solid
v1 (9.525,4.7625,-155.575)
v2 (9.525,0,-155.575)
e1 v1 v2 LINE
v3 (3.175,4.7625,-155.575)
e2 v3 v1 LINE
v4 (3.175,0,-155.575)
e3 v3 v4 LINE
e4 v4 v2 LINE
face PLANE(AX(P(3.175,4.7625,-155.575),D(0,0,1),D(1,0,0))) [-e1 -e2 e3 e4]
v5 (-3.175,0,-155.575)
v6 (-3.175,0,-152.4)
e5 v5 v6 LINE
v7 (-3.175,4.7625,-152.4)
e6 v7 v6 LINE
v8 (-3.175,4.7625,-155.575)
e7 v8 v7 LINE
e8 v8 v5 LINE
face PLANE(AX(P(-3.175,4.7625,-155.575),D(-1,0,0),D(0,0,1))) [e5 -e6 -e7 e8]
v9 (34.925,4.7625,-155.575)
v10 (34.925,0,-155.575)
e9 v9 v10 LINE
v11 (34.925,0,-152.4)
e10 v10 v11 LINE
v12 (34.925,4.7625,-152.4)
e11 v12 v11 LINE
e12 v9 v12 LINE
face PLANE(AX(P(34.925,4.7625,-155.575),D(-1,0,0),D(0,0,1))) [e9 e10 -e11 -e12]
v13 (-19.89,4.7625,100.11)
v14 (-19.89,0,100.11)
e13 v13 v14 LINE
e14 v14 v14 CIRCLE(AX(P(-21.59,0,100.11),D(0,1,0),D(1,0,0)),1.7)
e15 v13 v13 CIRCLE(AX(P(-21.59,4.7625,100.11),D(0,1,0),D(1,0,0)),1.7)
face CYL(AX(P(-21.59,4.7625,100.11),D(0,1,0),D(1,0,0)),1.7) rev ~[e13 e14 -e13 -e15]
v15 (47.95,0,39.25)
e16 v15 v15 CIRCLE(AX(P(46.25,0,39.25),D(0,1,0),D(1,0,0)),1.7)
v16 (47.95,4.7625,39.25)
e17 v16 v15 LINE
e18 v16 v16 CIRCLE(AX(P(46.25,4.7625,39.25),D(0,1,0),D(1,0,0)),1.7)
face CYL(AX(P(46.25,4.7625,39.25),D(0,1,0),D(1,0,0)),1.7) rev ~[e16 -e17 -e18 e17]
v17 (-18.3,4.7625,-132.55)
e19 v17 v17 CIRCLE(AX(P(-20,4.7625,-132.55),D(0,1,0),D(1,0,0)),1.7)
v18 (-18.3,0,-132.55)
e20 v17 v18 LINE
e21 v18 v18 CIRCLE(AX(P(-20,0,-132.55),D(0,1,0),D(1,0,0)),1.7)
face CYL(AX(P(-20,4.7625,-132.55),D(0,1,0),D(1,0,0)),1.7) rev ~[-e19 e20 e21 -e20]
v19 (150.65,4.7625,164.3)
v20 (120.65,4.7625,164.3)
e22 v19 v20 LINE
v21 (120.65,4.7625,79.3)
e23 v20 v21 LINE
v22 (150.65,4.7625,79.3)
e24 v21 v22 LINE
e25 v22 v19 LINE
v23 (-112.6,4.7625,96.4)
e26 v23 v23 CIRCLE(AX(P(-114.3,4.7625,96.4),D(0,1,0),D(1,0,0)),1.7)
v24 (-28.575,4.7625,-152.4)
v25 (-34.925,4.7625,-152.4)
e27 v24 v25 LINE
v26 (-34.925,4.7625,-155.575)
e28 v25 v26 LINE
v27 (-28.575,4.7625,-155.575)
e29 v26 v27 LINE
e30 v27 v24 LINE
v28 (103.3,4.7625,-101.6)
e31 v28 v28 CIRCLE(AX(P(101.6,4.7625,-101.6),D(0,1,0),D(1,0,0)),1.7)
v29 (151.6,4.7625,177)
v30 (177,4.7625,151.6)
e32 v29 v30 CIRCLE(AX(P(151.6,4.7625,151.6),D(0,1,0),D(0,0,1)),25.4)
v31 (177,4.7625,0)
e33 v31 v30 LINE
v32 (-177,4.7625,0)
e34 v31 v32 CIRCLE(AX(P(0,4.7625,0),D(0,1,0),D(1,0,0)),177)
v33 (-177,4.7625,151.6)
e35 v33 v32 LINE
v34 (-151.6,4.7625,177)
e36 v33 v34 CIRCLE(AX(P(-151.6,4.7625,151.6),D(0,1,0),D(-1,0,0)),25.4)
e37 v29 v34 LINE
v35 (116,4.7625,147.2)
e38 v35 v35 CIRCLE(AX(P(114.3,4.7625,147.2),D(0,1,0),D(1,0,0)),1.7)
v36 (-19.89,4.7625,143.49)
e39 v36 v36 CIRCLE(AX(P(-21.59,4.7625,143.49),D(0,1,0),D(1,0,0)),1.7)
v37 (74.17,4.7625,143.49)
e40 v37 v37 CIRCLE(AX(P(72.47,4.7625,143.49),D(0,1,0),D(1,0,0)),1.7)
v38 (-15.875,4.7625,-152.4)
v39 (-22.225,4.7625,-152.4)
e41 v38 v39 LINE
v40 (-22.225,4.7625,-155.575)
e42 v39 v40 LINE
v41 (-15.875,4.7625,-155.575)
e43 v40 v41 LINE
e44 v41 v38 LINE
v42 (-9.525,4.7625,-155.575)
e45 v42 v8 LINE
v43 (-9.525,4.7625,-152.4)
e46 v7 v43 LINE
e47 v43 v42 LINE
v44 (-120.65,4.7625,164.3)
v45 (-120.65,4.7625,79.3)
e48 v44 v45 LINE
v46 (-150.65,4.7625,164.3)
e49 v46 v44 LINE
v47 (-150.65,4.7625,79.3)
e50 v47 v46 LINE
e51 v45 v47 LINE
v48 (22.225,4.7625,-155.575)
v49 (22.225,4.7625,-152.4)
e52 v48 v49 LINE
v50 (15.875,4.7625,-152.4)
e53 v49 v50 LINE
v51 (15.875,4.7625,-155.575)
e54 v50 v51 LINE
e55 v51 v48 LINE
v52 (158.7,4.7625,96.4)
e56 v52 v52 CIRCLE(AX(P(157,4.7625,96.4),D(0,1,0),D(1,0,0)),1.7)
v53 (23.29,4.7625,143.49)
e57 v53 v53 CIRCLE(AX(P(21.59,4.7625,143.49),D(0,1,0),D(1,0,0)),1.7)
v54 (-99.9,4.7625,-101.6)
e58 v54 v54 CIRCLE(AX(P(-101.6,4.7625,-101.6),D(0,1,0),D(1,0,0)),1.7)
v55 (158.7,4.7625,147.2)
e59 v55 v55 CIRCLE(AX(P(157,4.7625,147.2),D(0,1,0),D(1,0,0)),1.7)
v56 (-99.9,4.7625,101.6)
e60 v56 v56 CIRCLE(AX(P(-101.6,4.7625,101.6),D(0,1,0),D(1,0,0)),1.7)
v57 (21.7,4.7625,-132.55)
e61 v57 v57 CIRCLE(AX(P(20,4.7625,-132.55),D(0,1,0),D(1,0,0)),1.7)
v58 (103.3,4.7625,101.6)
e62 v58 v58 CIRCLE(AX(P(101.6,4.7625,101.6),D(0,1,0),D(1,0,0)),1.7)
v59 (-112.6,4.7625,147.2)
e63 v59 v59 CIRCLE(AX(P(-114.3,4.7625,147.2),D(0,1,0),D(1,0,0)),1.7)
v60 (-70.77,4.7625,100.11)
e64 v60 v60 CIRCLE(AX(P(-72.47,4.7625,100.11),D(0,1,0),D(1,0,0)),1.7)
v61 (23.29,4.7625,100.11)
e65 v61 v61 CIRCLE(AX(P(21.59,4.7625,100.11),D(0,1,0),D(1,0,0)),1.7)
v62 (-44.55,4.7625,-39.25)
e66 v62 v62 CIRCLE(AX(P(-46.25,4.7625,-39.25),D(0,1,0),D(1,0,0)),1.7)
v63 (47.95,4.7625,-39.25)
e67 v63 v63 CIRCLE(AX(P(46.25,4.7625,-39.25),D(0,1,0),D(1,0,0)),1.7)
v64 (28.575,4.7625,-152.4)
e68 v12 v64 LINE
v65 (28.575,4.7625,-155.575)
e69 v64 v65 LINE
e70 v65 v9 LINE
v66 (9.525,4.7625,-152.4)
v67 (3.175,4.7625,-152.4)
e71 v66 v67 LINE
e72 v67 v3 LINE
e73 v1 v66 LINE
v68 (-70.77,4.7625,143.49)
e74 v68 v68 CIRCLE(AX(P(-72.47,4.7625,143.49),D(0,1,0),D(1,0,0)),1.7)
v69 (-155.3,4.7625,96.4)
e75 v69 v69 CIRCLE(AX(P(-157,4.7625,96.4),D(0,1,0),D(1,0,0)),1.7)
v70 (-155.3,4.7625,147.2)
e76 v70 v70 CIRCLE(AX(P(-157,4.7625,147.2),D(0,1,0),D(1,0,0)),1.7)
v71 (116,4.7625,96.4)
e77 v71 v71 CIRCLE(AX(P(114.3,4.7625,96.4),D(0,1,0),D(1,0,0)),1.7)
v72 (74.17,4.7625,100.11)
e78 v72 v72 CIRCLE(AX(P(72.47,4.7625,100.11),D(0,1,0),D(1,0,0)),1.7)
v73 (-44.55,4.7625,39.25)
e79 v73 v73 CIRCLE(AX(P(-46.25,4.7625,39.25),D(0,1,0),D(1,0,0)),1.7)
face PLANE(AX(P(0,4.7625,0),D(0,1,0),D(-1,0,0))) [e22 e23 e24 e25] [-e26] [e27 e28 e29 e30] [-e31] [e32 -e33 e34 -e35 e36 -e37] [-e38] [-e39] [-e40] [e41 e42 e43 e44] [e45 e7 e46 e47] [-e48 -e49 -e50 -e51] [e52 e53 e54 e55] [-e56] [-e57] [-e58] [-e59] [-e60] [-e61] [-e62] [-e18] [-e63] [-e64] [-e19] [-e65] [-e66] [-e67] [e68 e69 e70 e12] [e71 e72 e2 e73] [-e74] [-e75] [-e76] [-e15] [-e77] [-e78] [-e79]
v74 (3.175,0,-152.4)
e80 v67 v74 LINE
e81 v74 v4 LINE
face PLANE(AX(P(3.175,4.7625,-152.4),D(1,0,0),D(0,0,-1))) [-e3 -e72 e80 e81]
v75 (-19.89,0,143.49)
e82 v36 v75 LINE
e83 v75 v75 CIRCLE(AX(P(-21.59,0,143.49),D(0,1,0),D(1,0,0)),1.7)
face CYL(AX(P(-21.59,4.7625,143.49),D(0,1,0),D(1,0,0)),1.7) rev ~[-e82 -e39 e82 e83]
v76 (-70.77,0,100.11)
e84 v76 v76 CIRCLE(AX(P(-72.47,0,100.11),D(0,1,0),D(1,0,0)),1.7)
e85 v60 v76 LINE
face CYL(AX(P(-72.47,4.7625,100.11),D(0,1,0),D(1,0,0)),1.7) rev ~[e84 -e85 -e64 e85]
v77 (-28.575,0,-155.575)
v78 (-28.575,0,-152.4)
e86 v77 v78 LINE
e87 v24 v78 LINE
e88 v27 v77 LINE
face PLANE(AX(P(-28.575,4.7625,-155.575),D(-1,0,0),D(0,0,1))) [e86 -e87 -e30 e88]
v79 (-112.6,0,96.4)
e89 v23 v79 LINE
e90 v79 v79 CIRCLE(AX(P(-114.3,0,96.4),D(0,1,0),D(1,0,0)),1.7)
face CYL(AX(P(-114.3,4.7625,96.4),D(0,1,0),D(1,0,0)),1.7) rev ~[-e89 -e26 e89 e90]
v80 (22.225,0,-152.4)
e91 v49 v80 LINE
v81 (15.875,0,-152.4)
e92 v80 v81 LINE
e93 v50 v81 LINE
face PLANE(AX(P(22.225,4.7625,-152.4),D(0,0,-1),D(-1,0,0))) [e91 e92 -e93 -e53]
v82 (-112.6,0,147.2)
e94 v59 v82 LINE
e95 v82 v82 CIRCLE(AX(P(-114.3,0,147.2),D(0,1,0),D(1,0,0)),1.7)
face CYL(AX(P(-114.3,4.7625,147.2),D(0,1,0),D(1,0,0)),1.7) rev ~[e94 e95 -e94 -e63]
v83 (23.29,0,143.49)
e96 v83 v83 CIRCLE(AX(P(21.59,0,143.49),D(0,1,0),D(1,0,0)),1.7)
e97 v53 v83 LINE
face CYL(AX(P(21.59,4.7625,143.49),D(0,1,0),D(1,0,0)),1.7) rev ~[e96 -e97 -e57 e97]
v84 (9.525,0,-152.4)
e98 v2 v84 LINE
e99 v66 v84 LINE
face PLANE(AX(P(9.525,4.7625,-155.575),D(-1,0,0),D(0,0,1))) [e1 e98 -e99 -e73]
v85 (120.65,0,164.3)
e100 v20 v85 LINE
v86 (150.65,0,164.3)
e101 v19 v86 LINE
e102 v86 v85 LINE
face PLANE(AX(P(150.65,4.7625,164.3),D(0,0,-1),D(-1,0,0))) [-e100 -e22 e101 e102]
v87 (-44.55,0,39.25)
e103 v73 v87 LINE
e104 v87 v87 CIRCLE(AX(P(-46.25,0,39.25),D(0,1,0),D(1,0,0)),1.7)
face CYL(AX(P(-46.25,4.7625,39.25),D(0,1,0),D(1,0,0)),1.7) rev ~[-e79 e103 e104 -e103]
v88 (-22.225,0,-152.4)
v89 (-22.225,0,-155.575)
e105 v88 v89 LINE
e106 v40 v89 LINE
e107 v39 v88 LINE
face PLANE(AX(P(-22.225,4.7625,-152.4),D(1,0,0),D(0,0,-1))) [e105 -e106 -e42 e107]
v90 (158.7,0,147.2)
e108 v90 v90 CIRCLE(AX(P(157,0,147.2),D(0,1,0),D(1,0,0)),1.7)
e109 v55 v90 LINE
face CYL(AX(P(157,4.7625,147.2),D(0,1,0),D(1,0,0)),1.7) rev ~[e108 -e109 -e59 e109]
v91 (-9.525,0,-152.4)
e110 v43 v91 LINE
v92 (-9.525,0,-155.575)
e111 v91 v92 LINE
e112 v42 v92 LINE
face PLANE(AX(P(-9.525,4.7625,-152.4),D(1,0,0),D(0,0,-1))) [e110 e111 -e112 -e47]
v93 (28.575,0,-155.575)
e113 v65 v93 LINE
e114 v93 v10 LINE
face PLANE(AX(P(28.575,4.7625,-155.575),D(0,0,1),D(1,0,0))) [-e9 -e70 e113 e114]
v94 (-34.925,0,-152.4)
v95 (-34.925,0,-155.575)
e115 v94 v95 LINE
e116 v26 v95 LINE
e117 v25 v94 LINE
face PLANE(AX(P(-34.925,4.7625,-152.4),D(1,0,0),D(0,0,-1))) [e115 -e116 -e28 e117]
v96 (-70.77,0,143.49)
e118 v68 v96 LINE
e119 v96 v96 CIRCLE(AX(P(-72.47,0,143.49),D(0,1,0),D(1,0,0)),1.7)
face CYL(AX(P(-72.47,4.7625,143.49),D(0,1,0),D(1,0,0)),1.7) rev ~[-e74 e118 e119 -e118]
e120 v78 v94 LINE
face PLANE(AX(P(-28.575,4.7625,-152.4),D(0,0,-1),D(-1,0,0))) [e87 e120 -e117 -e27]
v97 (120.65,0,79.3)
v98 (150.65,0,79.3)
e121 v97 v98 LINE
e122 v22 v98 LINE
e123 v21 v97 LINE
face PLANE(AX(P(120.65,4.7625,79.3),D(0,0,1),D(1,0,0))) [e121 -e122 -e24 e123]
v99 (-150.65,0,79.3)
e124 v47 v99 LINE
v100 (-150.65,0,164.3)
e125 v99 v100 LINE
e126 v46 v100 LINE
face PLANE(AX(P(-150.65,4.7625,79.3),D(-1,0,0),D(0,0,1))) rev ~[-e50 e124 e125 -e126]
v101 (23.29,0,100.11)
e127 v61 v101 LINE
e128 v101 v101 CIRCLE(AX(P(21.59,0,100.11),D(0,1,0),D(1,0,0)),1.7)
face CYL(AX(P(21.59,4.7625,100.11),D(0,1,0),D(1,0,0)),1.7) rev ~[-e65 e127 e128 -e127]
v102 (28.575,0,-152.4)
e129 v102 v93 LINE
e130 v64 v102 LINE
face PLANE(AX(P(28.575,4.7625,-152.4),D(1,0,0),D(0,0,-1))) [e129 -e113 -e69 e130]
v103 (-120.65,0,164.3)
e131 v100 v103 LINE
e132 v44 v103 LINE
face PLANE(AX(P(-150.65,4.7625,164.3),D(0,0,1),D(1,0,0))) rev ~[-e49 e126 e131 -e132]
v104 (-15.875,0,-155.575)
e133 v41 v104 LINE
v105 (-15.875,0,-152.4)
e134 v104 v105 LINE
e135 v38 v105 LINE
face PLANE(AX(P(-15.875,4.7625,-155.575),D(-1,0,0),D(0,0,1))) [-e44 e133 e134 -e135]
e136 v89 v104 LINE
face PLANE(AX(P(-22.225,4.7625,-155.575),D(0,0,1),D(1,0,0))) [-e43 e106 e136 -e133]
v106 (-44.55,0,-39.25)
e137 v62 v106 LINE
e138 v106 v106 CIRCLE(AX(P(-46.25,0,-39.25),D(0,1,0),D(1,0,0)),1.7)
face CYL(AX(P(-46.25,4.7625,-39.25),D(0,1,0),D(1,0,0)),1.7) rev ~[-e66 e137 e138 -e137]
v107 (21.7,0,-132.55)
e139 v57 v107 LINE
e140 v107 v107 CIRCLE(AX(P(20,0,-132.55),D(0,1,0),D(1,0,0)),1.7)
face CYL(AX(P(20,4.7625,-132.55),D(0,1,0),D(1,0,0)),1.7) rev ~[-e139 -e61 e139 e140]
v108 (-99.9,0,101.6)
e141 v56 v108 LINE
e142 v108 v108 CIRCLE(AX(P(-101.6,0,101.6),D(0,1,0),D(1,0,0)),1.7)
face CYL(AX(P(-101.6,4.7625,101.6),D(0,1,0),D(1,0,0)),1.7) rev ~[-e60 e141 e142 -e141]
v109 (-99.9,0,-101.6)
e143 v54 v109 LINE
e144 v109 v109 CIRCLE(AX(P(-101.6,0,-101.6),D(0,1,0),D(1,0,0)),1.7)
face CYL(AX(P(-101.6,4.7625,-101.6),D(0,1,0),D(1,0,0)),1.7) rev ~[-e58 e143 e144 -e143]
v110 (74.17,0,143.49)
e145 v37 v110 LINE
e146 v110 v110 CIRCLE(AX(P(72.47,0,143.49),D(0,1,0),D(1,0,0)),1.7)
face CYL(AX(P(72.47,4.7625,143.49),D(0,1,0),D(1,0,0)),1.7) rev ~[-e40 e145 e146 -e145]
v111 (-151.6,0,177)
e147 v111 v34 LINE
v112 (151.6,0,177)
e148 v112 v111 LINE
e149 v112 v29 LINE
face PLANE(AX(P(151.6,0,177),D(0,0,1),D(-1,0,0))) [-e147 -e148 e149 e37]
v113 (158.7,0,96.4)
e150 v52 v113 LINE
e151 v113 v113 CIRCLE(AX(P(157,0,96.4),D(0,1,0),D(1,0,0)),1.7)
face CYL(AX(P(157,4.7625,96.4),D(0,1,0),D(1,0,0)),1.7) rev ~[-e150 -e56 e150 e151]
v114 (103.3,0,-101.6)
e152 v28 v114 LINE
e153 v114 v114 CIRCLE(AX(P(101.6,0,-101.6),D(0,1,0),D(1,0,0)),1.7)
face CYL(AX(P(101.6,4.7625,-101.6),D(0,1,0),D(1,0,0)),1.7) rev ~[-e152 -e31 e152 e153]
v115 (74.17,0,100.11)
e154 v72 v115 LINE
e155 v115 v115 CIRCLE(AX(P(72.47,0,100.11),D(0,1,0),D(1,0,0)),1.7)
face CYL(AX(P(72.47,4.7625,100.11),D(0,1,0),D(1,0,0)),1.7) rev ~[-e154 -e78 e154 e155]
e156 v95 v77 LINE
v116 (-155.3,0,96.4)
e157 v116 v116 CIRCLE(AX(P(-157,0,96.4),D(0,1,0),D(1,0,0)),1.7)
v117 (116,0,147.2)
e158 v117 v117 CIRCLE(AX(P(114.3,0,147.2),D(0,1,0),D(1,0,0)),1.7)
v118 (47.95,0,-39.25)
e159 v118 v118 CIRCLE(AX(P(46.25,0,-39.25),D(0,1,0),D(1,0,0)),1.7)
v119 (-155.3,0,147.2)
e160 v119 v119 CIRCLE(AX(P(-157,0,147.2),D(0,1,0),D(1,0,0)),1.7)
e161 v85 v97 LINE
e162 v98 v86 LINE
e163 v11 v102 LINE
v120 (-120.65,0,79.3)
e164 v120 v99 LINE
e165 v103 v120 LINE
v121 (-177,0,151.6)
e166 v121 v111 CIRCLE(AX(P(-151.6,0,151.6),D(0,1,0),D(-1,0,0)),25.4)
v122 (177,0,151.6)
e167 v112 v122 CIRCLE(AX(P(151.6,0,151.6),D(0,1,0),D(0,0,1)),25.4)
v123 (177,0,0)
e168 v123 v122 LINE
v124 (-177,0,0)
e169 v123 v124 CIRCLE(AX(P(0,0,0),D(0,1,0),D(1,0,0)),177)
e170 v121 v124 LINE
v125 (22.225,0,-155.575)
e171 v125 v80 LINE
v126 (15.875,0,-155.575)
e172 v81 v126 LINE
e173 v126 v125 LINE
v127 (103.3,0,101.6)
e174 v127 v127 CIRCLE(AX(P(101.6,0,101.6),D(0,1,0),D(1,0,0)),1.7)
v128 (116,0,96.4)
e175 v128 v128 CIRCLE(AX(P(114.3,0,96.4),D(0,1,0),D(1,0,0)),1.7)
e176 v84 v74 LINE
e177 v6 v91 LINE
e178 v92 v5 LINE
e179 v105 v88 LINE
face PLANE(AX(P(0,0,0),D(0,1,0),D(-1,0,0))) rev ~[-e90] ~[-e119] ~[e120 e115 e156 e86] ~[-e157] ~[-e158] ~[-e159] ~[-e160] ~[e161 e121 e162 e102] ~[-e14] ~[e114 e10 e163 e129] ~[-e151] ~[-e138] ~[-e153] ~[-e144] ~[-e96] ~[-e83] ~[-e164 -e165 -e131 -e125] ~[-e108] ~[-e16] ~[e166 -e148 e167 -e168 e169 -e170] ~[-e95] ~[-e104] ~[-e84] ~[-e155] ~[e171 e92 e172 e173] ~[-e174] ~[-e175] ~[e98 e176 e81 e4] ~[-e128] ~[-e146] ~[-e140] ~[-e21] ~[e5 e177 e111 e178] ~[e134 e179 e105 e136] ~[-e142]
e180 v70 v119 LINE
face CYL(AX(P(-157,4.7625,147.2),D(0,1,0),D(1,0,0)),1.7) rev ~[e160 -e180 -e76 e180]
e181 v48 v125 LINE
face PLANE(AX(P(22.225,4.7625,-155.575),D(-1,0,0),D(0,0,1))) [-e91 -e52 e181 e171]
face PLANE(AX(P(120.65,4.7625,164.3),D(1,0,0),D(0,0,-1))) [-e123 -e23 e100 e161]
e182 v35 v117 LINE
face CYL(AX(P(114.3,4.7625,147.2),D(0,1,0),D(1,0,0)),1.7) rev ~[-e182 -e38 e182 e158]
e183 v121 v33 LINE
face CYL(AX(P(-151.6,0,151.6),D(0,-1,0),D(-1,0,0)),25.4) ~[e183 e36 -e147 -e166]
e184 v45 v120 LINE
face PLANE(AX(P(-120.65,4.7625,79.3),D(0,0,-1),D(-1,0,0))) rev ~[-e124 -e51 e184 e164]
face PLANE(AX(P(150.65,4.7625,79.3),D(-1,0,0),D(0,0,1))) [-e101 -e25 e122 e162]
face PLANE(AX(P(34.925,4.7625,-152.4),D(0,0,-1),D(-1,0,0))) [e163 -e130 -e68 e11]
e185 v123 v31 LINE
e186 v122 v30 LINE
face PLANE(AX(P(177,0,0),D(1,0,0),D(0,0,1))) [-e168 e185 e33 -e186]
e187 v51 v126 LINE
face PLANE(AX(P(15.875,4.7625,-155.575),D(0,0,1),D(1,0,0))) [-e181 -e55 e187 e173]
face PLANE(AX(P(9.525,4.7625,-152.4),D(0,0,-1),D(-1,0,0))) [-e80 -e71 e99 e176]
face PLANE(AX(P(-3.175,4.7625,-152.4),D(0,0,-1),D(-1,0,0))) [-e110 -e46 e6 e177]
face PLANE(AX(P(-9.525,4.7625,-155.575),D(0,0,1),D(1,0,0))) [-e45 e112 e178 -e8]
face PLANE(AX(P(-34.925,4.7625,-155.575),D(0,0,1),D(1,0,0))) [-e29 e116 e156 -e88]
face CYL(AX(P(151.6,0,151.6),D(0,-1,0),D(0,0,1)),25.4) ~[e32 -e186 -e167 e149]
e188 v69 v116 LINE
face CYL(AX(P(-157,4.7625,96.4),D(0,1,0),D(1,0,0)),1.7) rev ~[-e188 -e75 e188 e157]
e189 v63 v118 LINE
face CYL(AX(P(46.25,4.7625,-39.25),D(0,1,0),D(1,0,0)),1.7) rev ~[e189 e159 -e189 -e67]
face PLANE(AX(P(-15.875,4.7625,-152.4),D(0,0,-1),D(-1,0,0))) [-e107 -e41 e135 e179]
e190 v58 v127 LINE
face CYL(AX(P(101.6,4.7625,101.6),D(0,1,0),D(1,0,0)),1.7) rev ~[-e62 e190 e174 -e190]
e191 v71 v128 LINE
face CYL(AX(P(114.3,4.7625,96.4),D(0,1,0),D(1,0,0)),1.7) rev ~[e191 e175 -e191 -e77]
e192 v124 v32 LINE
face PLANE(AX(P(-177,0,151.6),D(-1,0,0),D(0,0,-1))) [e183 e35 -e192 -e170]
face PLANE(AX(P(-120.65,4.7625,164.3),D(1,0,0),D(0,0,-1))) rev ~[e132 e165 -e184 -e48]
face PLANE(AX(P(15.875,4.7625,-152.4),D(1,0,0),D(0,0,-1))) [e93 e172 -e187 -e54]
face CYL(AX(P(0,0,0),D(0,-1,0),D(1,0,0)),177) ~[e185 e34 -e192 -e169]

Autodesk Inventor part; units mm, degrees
ref_plane "YZ Plane" through (0, 0, 0) normal (1, 0, 0) x (0, 1, 0)
ref_plane "XZ Plane" through (0, 0, 0) normal (0, 1, 0) x (-1, 0, 0)
ref_plane "XY Plane" through (0, 0, 0) normal (0, 0, 1) x (1, 0, 0)
sketch "Sketch1" plane through (0, 0, 0) normal (0, 1, 0) x (-1, 0, 0)
  arc A0 (-177, 0) -> (177, 0) centre (0, 0) ccw
  line L0 (-177, 0) -> (-177, 151.6)
  line L1 (-151.6, 177) -> (151.6, 177)
  line L2 (177, 151.6) -> (177, 0)
  arc A1 (-151.6, 177) -> (-177, 151.6) centre (-151.6, 151.6) ccw
  arc A2 (177, 151.6) -> (151.6, 177) centre (151.6, 151.6) ccw
  point P0 (-177, 177)
  point P1 (177, 177)
  dimension "d0" = 354
  dimension "d98" = 177
  dimension "d99" = 177
  dimension "d101" = 354
  dimension "d102" = 177
  dimension "d217" = 25.4
extrude "Extrusion1" add sketch "Sketch1" along normal blind 4.7625
sketch "Sketch8" plane through (0, 4.7625, 0) normal (0, 1, 0) x (1, 0, 0)
  circle A0 centre (101.6, -101.6) radius 1.7
  circle A1 centre (101.6, 101.6) radius 1.7
  circle A2 centre (-101.6, 101.6) radius 1.7
  circle A3 centre (-101.6, -101.6) radius 1.7
  arc A4 (177, 0) -> (-177, 0) centre (0, 0) ccw construction
  line L0 (0, 177) -> (0, -177) construction
  line L1 (-151.6, -177) -> (151.6, -177) construction
  line L2 (-177, 0) -> (-177, -151.6) construction
  line L3 (177, -151.6) -> (177, 0) construction
  line L4 (-177, 0) -> (177, 0) construction
  point P0 (0, 0)
  point P1 (-177, -177)
  point P2 (177, -177)
  dimension "d103" = 3.4
  dimension "d104" = 3.4
  dimension "d105" = 3.4
  dimension "d106" = 3.4
  dimension "d115" = 101.6
  dimension "d116" = 101.6
  dimension "d117" = 101.6
  dimension "d118" = 101.6
  dimension "d119" = 101.6
  dimension "d120" = 101.6
  dimension "d121" = 101.6
  dimension "d122" = 101.6
extrude "Stand-Offs" cut sketch "Sketch8" against normal through all
sketch "Sketch9" plane through (0, 4.7625, 0) normal (0, 1, 0) x (1, 0, 0)
  line L0 (-150.65, -79.3) -> (-150.65, -164.3)
  line L1 (-150.65, -164.3) -> (-120.65, -164.3)
  line L2 (-120.65, -164.3) -> (-120.65, -79.3)
  line L3 (-120.65, -79.3) -> (-150.65, -79.3)
  circle A0 centre (-114.3, -96.4) radius 1.7
  circle A1 centre (-114.3, -147.2) radius 1.7
  circle A2 centre (-157, -147.2) radius 1.7
  circle A3 centre (-157, -96.4) radius 1.7
  arc A4 (177, 0) -> (-177, 0) centre (0, 0) ccw construction
  line L4 (0, 177) -> (0, -177) construction
  line L5 (-151.6, -177) -> (151.6, -177) construction
  line L6 (-177, -177) -> (177, -177) construction
  line L7 (-120.65, -121.8) -> (-150.65, -121.8) construction
  line L8 (150.65, -164.3) -> (120.65, -164.3)
  line L9 (120.65, -164.3) -> (120.65, -79.3)
  line L10 (120.65, -79.3) -> (150.65, -79.3)
  circle A5 centre (114.3, -96.4) radius 1.7
  circle A6 centre (114.3, -147.2) radius 1.7
  line L11 (150.65, -79.3) -> (150.65, -164.3)
  circle A7 centre (157, -96.4) radius 1.7
  circle A8 centre (157, -147.2) radius 1.7
  line L12 (120.65, -121.8) -> (150.65, -121.8) construction
  point P0 (177.1241, 0)
  dimension "d126" = 30
  dimension "d129" = 3.4
  dimension "d130" = 3.4
  dimension "d131" = 3.4
  dimension "d132" = 3.4
  dimension "d133" = 6.35
  dimension "d134" = 6.35
  dimension "d135" = 6.35
  dimension "d136" = 6.35
  dimension "d141" = 120.65
  dimension "d142" = 12.7
  dimension "d143" = 85
  dimension "d144" = 25.4
  dimension "d145" = 25.4
  dimension "d146" = 25.4
  dimension "d147" = 25.4
extrude "Wheels" cut sketch "Sketch9" against normal through all
sketch "Sketch10" plane through (0, 4.7625, 0) normal (0, 1, 0) x (1, 0, 0)
  circle A0 centre (-72.47, -143.49) radius 1.7
  circle A1 centre (-21.59, -143.49) radius 1.7
  circle A2 centre (-72.47, -100.11) radius 1.7
  circle A3 centre (-21.59, -100.11) radius 1.7
  arc A4 (177, 0) -> (-177, 0) centre (0, 0) ccw construction
  line L0 (0, 177) -> (0, -177) construction
  line L1 (-151.6, -177) -> (151.6, -177) construction
  line L2 (177, -151.6) -> (177, 0) construction
  line L3 (-177, 0) -> (-177, -151.6) construction
  line L4 (177, 0) -> (-177, 0) construction
  line L5 (-150.65, -79.3) -> (-150.65, -164.3) construction
  line L6 (-150.65, -121.8) -> (150.65, -121.8) construction
  line L7 (150.65, -79.3) -> (150.65, -164.3) construction
  line L8 (-120.65, -79.3) -> (-120.65, -164.3) construction
  circle A5 centre (72.47, -143.49) radius 1.7
  circle A6 centre (72.47, -100.11) radius 1.7
  circle A7 centre (21.59, -143.49) radius 1.7
  circle A8 centre (21.59, -100.11) radius 1.7
  line L9 (-76.28, -96.3) -> (-17.78, -96.3) construction
  line L10 (-17.78, -96.3) -> (-17.78, -147.3) construction
  line L11 (-17.78, -147.3) -> (-76.28, -147.3) construction
  line L12 (-76.28, -147.3) -> (-76.28, -96.3) construction
  point P0 (-177, -177)
  point P1 (177, -177)
  dimension "d150" = 3.4
  dimension "d151" = 3.4
  dimension "d152" = 3.4
  dimension "d153" = 3.4
  dimension "d235" = 58.5
  dimension "d236" = 51
  dimension "d237" = 3.81
  dimension "d238" = 3.81
  dimension "d239" = 3.81
  dimension "d240" = 3.81
  dimension "d241" = 3.81
  dimension "d242" = 3.81
  dimension "d243" = 3.81
  dimension "d244" = 3.81
  dimension "d245" = 21.59
  dimension "d246" = 21.59
  dimension "d247" = 25.5
extrude "Motor Mount" cut sketch "Sketch10" against normal through all
sketch "Sketch11" plane through (0, 4.7625, 0) normal (0, 1, 0) x (1, 0, 0)
  circle A0 centre (-46.25, 39.25) radius 1.7
  circle A1 centre (46.25, 39.25) radius 1.7
  circle A2 centre (46.25, -39.25) radius 1.7
  circle A3 centre (-46.25, -39.25) radius 1.7
  line L0 (-177, 0) -> (-177, -151.6) construction
  arc A4 (177, 0) -> (-177, 0) centre (0, 0) ccw construction
  line L1 (-177, 0) -> (177, 0) construction
  line L2 (0, 177) -> (0, -177) construction
  line L3 (-151.6, -177) -> (151.6, -177) construction
  point P0 (-177, -177)
  point P1 (177, -177)
  dimension "d170" = 3.4
  dimension "d171" = 3.4
  dimension "d172" = 3.4
  dimension "d173" = 3.4
  dimension "d174" = 92.5
  dimension "d175" = 92.5
  dimension "d176" = 78.5
  dimension "d177" = 78.5
  dimension "d183" = 46.25
  dimension "d184" = 39.25
  dimension "d185" = 39.25
  dimension "d186" = 46.25
extrude "PCB" cut sketch "Sketch11" against normal through all
sketch "Sketch12" plane through (0, 4.7625, 0) normal (0, 1, 0) x (1, 0, 0)
  circle A0 centre (20, 132.55) radius 1.7
  circle A1 centre (-20, 132.55) radius 1.7
  line L0 (-177, 0) -> (-177, -151.6) construction
  arc A2 (177, 0) -> (-177, 0) centre (0, 0) ccw construction
  line L1 (-177, 0) -> (177, 0) construction
  arc A3 (177, 0) -> (-177, 0) centre (0, 0) ccw construction
  line L2 (0, 177) -> (0, -177) construction
  point P0 (-177, -177)
  dimension "d190" = 3.4
  dimension "d191" = 3.4
  dimension "d192" = 40
  dimension "d198" = 44.45
  dimension "d200" = 44.45
  dimension "d201" = 20
extrude "Ball Caster" cut sketch "Sketch12" against normal through all
sketch "Sketch13" plane through (0, 4.7625, 0) normal (0, 1, 0) x (1, 0, 0)
  line L0 (-34.925, 155.575) -> (-28.575, 155.575)
  line L1 (-28.575, 155.575) -> (-28.575, 152.4)
  line L2 (-28.575, 152.4) -> (-34.925, 152.4)
  line L3 (-34.925, 152.4) -> (-34.925, 155.575)
  line L4 (-22.225, 155.575) -> (-15.875, 155.575)
  line L5 (-15.875, 155.575) -> (-15.875, 152.4)
  line L6 (-15.875, 152.4) -> (-22.225, 152.4)
  line L7 (-22.225, 152.4) -> (-22.225, 155.575)
  line L8 (-9.525, 155.575) -> (-3.175, 155.575)
  line L9 (-3.175, 155.575) -> (-3.175, 152.4)
  line L10 (-3.175, 152.4) -> (-9.525, 152.4)
  line L11 (-9.525, 152.4) -> (-9.525, 155.575)
  line L12 (3.175, 155.575) -> (9.525, 155.575)
  line L13 (9.525, 155.575) -> (9.525, 152.4)
  line L14 (9.525, 152.4) -> (3.175, 152.4)
  line L15 (3.175, 152.4) -> (3.175, 155.575)
  line L16 (15.875, 155.575) -> (22.225, 155.575)
  line L17 (22.225, 155.575) -> (22.225, 152.4)
  line L18 (22.225, 152.4) -> (15.875, 152.4)
  line L19 (15.875, 152.4) -> (15.875, 155.575)
  line L20 (28.575, 155.575) -> (34.925, 155.575)
  line L21 (34.925, 155.575) -> (34.925, 152.4)
  line L22 (34.925, 152.4) -> (28.575, 152.4)
  line L23 (28.575, 152.4) -> (28.575, 155.575)
  arc A0 (177, 0) -> (-177, 0) centre (0, 0) ccw construction
  line L24 (0, 177) -> (0, -177) construction
  line L25 (-151.6, -177) -> (151.6, -177) construction
  line L26 (177, -151.6) -> (177, 0) construction
  line L27 (-177, 0) -> (-177, -151.6) construction
  line L28 (177, 0) -> (-177, 0) construction
  point P0 (-177, -177)
  point P1 (177, -177)
  dimension "d204" = 3.175
  dimension "d205" = 6.35
  dimension "d208" = 12.7
  dimension "d213" = 152.4
  dimension "d214" = 3.175
extrude "Switch" cut sketch "Sketch13" against normal through all
equation "\"d98\" = 0.5 * d0"
equation "\"d99\" = d98"
equation "\"d101\" = d0"
equation "\"d102\" = d99"
equation "\"m3_heat_set_insert\" = 4"
equation "\"m3_clearance\" = 3.4"
equation "\"m3_heat_set_depth\" = 7"
equation "\"hardboard_thickness\" = 5"
equation "\"robot_diameter\" = 354"
properties part number "layer1_new_motor2"
